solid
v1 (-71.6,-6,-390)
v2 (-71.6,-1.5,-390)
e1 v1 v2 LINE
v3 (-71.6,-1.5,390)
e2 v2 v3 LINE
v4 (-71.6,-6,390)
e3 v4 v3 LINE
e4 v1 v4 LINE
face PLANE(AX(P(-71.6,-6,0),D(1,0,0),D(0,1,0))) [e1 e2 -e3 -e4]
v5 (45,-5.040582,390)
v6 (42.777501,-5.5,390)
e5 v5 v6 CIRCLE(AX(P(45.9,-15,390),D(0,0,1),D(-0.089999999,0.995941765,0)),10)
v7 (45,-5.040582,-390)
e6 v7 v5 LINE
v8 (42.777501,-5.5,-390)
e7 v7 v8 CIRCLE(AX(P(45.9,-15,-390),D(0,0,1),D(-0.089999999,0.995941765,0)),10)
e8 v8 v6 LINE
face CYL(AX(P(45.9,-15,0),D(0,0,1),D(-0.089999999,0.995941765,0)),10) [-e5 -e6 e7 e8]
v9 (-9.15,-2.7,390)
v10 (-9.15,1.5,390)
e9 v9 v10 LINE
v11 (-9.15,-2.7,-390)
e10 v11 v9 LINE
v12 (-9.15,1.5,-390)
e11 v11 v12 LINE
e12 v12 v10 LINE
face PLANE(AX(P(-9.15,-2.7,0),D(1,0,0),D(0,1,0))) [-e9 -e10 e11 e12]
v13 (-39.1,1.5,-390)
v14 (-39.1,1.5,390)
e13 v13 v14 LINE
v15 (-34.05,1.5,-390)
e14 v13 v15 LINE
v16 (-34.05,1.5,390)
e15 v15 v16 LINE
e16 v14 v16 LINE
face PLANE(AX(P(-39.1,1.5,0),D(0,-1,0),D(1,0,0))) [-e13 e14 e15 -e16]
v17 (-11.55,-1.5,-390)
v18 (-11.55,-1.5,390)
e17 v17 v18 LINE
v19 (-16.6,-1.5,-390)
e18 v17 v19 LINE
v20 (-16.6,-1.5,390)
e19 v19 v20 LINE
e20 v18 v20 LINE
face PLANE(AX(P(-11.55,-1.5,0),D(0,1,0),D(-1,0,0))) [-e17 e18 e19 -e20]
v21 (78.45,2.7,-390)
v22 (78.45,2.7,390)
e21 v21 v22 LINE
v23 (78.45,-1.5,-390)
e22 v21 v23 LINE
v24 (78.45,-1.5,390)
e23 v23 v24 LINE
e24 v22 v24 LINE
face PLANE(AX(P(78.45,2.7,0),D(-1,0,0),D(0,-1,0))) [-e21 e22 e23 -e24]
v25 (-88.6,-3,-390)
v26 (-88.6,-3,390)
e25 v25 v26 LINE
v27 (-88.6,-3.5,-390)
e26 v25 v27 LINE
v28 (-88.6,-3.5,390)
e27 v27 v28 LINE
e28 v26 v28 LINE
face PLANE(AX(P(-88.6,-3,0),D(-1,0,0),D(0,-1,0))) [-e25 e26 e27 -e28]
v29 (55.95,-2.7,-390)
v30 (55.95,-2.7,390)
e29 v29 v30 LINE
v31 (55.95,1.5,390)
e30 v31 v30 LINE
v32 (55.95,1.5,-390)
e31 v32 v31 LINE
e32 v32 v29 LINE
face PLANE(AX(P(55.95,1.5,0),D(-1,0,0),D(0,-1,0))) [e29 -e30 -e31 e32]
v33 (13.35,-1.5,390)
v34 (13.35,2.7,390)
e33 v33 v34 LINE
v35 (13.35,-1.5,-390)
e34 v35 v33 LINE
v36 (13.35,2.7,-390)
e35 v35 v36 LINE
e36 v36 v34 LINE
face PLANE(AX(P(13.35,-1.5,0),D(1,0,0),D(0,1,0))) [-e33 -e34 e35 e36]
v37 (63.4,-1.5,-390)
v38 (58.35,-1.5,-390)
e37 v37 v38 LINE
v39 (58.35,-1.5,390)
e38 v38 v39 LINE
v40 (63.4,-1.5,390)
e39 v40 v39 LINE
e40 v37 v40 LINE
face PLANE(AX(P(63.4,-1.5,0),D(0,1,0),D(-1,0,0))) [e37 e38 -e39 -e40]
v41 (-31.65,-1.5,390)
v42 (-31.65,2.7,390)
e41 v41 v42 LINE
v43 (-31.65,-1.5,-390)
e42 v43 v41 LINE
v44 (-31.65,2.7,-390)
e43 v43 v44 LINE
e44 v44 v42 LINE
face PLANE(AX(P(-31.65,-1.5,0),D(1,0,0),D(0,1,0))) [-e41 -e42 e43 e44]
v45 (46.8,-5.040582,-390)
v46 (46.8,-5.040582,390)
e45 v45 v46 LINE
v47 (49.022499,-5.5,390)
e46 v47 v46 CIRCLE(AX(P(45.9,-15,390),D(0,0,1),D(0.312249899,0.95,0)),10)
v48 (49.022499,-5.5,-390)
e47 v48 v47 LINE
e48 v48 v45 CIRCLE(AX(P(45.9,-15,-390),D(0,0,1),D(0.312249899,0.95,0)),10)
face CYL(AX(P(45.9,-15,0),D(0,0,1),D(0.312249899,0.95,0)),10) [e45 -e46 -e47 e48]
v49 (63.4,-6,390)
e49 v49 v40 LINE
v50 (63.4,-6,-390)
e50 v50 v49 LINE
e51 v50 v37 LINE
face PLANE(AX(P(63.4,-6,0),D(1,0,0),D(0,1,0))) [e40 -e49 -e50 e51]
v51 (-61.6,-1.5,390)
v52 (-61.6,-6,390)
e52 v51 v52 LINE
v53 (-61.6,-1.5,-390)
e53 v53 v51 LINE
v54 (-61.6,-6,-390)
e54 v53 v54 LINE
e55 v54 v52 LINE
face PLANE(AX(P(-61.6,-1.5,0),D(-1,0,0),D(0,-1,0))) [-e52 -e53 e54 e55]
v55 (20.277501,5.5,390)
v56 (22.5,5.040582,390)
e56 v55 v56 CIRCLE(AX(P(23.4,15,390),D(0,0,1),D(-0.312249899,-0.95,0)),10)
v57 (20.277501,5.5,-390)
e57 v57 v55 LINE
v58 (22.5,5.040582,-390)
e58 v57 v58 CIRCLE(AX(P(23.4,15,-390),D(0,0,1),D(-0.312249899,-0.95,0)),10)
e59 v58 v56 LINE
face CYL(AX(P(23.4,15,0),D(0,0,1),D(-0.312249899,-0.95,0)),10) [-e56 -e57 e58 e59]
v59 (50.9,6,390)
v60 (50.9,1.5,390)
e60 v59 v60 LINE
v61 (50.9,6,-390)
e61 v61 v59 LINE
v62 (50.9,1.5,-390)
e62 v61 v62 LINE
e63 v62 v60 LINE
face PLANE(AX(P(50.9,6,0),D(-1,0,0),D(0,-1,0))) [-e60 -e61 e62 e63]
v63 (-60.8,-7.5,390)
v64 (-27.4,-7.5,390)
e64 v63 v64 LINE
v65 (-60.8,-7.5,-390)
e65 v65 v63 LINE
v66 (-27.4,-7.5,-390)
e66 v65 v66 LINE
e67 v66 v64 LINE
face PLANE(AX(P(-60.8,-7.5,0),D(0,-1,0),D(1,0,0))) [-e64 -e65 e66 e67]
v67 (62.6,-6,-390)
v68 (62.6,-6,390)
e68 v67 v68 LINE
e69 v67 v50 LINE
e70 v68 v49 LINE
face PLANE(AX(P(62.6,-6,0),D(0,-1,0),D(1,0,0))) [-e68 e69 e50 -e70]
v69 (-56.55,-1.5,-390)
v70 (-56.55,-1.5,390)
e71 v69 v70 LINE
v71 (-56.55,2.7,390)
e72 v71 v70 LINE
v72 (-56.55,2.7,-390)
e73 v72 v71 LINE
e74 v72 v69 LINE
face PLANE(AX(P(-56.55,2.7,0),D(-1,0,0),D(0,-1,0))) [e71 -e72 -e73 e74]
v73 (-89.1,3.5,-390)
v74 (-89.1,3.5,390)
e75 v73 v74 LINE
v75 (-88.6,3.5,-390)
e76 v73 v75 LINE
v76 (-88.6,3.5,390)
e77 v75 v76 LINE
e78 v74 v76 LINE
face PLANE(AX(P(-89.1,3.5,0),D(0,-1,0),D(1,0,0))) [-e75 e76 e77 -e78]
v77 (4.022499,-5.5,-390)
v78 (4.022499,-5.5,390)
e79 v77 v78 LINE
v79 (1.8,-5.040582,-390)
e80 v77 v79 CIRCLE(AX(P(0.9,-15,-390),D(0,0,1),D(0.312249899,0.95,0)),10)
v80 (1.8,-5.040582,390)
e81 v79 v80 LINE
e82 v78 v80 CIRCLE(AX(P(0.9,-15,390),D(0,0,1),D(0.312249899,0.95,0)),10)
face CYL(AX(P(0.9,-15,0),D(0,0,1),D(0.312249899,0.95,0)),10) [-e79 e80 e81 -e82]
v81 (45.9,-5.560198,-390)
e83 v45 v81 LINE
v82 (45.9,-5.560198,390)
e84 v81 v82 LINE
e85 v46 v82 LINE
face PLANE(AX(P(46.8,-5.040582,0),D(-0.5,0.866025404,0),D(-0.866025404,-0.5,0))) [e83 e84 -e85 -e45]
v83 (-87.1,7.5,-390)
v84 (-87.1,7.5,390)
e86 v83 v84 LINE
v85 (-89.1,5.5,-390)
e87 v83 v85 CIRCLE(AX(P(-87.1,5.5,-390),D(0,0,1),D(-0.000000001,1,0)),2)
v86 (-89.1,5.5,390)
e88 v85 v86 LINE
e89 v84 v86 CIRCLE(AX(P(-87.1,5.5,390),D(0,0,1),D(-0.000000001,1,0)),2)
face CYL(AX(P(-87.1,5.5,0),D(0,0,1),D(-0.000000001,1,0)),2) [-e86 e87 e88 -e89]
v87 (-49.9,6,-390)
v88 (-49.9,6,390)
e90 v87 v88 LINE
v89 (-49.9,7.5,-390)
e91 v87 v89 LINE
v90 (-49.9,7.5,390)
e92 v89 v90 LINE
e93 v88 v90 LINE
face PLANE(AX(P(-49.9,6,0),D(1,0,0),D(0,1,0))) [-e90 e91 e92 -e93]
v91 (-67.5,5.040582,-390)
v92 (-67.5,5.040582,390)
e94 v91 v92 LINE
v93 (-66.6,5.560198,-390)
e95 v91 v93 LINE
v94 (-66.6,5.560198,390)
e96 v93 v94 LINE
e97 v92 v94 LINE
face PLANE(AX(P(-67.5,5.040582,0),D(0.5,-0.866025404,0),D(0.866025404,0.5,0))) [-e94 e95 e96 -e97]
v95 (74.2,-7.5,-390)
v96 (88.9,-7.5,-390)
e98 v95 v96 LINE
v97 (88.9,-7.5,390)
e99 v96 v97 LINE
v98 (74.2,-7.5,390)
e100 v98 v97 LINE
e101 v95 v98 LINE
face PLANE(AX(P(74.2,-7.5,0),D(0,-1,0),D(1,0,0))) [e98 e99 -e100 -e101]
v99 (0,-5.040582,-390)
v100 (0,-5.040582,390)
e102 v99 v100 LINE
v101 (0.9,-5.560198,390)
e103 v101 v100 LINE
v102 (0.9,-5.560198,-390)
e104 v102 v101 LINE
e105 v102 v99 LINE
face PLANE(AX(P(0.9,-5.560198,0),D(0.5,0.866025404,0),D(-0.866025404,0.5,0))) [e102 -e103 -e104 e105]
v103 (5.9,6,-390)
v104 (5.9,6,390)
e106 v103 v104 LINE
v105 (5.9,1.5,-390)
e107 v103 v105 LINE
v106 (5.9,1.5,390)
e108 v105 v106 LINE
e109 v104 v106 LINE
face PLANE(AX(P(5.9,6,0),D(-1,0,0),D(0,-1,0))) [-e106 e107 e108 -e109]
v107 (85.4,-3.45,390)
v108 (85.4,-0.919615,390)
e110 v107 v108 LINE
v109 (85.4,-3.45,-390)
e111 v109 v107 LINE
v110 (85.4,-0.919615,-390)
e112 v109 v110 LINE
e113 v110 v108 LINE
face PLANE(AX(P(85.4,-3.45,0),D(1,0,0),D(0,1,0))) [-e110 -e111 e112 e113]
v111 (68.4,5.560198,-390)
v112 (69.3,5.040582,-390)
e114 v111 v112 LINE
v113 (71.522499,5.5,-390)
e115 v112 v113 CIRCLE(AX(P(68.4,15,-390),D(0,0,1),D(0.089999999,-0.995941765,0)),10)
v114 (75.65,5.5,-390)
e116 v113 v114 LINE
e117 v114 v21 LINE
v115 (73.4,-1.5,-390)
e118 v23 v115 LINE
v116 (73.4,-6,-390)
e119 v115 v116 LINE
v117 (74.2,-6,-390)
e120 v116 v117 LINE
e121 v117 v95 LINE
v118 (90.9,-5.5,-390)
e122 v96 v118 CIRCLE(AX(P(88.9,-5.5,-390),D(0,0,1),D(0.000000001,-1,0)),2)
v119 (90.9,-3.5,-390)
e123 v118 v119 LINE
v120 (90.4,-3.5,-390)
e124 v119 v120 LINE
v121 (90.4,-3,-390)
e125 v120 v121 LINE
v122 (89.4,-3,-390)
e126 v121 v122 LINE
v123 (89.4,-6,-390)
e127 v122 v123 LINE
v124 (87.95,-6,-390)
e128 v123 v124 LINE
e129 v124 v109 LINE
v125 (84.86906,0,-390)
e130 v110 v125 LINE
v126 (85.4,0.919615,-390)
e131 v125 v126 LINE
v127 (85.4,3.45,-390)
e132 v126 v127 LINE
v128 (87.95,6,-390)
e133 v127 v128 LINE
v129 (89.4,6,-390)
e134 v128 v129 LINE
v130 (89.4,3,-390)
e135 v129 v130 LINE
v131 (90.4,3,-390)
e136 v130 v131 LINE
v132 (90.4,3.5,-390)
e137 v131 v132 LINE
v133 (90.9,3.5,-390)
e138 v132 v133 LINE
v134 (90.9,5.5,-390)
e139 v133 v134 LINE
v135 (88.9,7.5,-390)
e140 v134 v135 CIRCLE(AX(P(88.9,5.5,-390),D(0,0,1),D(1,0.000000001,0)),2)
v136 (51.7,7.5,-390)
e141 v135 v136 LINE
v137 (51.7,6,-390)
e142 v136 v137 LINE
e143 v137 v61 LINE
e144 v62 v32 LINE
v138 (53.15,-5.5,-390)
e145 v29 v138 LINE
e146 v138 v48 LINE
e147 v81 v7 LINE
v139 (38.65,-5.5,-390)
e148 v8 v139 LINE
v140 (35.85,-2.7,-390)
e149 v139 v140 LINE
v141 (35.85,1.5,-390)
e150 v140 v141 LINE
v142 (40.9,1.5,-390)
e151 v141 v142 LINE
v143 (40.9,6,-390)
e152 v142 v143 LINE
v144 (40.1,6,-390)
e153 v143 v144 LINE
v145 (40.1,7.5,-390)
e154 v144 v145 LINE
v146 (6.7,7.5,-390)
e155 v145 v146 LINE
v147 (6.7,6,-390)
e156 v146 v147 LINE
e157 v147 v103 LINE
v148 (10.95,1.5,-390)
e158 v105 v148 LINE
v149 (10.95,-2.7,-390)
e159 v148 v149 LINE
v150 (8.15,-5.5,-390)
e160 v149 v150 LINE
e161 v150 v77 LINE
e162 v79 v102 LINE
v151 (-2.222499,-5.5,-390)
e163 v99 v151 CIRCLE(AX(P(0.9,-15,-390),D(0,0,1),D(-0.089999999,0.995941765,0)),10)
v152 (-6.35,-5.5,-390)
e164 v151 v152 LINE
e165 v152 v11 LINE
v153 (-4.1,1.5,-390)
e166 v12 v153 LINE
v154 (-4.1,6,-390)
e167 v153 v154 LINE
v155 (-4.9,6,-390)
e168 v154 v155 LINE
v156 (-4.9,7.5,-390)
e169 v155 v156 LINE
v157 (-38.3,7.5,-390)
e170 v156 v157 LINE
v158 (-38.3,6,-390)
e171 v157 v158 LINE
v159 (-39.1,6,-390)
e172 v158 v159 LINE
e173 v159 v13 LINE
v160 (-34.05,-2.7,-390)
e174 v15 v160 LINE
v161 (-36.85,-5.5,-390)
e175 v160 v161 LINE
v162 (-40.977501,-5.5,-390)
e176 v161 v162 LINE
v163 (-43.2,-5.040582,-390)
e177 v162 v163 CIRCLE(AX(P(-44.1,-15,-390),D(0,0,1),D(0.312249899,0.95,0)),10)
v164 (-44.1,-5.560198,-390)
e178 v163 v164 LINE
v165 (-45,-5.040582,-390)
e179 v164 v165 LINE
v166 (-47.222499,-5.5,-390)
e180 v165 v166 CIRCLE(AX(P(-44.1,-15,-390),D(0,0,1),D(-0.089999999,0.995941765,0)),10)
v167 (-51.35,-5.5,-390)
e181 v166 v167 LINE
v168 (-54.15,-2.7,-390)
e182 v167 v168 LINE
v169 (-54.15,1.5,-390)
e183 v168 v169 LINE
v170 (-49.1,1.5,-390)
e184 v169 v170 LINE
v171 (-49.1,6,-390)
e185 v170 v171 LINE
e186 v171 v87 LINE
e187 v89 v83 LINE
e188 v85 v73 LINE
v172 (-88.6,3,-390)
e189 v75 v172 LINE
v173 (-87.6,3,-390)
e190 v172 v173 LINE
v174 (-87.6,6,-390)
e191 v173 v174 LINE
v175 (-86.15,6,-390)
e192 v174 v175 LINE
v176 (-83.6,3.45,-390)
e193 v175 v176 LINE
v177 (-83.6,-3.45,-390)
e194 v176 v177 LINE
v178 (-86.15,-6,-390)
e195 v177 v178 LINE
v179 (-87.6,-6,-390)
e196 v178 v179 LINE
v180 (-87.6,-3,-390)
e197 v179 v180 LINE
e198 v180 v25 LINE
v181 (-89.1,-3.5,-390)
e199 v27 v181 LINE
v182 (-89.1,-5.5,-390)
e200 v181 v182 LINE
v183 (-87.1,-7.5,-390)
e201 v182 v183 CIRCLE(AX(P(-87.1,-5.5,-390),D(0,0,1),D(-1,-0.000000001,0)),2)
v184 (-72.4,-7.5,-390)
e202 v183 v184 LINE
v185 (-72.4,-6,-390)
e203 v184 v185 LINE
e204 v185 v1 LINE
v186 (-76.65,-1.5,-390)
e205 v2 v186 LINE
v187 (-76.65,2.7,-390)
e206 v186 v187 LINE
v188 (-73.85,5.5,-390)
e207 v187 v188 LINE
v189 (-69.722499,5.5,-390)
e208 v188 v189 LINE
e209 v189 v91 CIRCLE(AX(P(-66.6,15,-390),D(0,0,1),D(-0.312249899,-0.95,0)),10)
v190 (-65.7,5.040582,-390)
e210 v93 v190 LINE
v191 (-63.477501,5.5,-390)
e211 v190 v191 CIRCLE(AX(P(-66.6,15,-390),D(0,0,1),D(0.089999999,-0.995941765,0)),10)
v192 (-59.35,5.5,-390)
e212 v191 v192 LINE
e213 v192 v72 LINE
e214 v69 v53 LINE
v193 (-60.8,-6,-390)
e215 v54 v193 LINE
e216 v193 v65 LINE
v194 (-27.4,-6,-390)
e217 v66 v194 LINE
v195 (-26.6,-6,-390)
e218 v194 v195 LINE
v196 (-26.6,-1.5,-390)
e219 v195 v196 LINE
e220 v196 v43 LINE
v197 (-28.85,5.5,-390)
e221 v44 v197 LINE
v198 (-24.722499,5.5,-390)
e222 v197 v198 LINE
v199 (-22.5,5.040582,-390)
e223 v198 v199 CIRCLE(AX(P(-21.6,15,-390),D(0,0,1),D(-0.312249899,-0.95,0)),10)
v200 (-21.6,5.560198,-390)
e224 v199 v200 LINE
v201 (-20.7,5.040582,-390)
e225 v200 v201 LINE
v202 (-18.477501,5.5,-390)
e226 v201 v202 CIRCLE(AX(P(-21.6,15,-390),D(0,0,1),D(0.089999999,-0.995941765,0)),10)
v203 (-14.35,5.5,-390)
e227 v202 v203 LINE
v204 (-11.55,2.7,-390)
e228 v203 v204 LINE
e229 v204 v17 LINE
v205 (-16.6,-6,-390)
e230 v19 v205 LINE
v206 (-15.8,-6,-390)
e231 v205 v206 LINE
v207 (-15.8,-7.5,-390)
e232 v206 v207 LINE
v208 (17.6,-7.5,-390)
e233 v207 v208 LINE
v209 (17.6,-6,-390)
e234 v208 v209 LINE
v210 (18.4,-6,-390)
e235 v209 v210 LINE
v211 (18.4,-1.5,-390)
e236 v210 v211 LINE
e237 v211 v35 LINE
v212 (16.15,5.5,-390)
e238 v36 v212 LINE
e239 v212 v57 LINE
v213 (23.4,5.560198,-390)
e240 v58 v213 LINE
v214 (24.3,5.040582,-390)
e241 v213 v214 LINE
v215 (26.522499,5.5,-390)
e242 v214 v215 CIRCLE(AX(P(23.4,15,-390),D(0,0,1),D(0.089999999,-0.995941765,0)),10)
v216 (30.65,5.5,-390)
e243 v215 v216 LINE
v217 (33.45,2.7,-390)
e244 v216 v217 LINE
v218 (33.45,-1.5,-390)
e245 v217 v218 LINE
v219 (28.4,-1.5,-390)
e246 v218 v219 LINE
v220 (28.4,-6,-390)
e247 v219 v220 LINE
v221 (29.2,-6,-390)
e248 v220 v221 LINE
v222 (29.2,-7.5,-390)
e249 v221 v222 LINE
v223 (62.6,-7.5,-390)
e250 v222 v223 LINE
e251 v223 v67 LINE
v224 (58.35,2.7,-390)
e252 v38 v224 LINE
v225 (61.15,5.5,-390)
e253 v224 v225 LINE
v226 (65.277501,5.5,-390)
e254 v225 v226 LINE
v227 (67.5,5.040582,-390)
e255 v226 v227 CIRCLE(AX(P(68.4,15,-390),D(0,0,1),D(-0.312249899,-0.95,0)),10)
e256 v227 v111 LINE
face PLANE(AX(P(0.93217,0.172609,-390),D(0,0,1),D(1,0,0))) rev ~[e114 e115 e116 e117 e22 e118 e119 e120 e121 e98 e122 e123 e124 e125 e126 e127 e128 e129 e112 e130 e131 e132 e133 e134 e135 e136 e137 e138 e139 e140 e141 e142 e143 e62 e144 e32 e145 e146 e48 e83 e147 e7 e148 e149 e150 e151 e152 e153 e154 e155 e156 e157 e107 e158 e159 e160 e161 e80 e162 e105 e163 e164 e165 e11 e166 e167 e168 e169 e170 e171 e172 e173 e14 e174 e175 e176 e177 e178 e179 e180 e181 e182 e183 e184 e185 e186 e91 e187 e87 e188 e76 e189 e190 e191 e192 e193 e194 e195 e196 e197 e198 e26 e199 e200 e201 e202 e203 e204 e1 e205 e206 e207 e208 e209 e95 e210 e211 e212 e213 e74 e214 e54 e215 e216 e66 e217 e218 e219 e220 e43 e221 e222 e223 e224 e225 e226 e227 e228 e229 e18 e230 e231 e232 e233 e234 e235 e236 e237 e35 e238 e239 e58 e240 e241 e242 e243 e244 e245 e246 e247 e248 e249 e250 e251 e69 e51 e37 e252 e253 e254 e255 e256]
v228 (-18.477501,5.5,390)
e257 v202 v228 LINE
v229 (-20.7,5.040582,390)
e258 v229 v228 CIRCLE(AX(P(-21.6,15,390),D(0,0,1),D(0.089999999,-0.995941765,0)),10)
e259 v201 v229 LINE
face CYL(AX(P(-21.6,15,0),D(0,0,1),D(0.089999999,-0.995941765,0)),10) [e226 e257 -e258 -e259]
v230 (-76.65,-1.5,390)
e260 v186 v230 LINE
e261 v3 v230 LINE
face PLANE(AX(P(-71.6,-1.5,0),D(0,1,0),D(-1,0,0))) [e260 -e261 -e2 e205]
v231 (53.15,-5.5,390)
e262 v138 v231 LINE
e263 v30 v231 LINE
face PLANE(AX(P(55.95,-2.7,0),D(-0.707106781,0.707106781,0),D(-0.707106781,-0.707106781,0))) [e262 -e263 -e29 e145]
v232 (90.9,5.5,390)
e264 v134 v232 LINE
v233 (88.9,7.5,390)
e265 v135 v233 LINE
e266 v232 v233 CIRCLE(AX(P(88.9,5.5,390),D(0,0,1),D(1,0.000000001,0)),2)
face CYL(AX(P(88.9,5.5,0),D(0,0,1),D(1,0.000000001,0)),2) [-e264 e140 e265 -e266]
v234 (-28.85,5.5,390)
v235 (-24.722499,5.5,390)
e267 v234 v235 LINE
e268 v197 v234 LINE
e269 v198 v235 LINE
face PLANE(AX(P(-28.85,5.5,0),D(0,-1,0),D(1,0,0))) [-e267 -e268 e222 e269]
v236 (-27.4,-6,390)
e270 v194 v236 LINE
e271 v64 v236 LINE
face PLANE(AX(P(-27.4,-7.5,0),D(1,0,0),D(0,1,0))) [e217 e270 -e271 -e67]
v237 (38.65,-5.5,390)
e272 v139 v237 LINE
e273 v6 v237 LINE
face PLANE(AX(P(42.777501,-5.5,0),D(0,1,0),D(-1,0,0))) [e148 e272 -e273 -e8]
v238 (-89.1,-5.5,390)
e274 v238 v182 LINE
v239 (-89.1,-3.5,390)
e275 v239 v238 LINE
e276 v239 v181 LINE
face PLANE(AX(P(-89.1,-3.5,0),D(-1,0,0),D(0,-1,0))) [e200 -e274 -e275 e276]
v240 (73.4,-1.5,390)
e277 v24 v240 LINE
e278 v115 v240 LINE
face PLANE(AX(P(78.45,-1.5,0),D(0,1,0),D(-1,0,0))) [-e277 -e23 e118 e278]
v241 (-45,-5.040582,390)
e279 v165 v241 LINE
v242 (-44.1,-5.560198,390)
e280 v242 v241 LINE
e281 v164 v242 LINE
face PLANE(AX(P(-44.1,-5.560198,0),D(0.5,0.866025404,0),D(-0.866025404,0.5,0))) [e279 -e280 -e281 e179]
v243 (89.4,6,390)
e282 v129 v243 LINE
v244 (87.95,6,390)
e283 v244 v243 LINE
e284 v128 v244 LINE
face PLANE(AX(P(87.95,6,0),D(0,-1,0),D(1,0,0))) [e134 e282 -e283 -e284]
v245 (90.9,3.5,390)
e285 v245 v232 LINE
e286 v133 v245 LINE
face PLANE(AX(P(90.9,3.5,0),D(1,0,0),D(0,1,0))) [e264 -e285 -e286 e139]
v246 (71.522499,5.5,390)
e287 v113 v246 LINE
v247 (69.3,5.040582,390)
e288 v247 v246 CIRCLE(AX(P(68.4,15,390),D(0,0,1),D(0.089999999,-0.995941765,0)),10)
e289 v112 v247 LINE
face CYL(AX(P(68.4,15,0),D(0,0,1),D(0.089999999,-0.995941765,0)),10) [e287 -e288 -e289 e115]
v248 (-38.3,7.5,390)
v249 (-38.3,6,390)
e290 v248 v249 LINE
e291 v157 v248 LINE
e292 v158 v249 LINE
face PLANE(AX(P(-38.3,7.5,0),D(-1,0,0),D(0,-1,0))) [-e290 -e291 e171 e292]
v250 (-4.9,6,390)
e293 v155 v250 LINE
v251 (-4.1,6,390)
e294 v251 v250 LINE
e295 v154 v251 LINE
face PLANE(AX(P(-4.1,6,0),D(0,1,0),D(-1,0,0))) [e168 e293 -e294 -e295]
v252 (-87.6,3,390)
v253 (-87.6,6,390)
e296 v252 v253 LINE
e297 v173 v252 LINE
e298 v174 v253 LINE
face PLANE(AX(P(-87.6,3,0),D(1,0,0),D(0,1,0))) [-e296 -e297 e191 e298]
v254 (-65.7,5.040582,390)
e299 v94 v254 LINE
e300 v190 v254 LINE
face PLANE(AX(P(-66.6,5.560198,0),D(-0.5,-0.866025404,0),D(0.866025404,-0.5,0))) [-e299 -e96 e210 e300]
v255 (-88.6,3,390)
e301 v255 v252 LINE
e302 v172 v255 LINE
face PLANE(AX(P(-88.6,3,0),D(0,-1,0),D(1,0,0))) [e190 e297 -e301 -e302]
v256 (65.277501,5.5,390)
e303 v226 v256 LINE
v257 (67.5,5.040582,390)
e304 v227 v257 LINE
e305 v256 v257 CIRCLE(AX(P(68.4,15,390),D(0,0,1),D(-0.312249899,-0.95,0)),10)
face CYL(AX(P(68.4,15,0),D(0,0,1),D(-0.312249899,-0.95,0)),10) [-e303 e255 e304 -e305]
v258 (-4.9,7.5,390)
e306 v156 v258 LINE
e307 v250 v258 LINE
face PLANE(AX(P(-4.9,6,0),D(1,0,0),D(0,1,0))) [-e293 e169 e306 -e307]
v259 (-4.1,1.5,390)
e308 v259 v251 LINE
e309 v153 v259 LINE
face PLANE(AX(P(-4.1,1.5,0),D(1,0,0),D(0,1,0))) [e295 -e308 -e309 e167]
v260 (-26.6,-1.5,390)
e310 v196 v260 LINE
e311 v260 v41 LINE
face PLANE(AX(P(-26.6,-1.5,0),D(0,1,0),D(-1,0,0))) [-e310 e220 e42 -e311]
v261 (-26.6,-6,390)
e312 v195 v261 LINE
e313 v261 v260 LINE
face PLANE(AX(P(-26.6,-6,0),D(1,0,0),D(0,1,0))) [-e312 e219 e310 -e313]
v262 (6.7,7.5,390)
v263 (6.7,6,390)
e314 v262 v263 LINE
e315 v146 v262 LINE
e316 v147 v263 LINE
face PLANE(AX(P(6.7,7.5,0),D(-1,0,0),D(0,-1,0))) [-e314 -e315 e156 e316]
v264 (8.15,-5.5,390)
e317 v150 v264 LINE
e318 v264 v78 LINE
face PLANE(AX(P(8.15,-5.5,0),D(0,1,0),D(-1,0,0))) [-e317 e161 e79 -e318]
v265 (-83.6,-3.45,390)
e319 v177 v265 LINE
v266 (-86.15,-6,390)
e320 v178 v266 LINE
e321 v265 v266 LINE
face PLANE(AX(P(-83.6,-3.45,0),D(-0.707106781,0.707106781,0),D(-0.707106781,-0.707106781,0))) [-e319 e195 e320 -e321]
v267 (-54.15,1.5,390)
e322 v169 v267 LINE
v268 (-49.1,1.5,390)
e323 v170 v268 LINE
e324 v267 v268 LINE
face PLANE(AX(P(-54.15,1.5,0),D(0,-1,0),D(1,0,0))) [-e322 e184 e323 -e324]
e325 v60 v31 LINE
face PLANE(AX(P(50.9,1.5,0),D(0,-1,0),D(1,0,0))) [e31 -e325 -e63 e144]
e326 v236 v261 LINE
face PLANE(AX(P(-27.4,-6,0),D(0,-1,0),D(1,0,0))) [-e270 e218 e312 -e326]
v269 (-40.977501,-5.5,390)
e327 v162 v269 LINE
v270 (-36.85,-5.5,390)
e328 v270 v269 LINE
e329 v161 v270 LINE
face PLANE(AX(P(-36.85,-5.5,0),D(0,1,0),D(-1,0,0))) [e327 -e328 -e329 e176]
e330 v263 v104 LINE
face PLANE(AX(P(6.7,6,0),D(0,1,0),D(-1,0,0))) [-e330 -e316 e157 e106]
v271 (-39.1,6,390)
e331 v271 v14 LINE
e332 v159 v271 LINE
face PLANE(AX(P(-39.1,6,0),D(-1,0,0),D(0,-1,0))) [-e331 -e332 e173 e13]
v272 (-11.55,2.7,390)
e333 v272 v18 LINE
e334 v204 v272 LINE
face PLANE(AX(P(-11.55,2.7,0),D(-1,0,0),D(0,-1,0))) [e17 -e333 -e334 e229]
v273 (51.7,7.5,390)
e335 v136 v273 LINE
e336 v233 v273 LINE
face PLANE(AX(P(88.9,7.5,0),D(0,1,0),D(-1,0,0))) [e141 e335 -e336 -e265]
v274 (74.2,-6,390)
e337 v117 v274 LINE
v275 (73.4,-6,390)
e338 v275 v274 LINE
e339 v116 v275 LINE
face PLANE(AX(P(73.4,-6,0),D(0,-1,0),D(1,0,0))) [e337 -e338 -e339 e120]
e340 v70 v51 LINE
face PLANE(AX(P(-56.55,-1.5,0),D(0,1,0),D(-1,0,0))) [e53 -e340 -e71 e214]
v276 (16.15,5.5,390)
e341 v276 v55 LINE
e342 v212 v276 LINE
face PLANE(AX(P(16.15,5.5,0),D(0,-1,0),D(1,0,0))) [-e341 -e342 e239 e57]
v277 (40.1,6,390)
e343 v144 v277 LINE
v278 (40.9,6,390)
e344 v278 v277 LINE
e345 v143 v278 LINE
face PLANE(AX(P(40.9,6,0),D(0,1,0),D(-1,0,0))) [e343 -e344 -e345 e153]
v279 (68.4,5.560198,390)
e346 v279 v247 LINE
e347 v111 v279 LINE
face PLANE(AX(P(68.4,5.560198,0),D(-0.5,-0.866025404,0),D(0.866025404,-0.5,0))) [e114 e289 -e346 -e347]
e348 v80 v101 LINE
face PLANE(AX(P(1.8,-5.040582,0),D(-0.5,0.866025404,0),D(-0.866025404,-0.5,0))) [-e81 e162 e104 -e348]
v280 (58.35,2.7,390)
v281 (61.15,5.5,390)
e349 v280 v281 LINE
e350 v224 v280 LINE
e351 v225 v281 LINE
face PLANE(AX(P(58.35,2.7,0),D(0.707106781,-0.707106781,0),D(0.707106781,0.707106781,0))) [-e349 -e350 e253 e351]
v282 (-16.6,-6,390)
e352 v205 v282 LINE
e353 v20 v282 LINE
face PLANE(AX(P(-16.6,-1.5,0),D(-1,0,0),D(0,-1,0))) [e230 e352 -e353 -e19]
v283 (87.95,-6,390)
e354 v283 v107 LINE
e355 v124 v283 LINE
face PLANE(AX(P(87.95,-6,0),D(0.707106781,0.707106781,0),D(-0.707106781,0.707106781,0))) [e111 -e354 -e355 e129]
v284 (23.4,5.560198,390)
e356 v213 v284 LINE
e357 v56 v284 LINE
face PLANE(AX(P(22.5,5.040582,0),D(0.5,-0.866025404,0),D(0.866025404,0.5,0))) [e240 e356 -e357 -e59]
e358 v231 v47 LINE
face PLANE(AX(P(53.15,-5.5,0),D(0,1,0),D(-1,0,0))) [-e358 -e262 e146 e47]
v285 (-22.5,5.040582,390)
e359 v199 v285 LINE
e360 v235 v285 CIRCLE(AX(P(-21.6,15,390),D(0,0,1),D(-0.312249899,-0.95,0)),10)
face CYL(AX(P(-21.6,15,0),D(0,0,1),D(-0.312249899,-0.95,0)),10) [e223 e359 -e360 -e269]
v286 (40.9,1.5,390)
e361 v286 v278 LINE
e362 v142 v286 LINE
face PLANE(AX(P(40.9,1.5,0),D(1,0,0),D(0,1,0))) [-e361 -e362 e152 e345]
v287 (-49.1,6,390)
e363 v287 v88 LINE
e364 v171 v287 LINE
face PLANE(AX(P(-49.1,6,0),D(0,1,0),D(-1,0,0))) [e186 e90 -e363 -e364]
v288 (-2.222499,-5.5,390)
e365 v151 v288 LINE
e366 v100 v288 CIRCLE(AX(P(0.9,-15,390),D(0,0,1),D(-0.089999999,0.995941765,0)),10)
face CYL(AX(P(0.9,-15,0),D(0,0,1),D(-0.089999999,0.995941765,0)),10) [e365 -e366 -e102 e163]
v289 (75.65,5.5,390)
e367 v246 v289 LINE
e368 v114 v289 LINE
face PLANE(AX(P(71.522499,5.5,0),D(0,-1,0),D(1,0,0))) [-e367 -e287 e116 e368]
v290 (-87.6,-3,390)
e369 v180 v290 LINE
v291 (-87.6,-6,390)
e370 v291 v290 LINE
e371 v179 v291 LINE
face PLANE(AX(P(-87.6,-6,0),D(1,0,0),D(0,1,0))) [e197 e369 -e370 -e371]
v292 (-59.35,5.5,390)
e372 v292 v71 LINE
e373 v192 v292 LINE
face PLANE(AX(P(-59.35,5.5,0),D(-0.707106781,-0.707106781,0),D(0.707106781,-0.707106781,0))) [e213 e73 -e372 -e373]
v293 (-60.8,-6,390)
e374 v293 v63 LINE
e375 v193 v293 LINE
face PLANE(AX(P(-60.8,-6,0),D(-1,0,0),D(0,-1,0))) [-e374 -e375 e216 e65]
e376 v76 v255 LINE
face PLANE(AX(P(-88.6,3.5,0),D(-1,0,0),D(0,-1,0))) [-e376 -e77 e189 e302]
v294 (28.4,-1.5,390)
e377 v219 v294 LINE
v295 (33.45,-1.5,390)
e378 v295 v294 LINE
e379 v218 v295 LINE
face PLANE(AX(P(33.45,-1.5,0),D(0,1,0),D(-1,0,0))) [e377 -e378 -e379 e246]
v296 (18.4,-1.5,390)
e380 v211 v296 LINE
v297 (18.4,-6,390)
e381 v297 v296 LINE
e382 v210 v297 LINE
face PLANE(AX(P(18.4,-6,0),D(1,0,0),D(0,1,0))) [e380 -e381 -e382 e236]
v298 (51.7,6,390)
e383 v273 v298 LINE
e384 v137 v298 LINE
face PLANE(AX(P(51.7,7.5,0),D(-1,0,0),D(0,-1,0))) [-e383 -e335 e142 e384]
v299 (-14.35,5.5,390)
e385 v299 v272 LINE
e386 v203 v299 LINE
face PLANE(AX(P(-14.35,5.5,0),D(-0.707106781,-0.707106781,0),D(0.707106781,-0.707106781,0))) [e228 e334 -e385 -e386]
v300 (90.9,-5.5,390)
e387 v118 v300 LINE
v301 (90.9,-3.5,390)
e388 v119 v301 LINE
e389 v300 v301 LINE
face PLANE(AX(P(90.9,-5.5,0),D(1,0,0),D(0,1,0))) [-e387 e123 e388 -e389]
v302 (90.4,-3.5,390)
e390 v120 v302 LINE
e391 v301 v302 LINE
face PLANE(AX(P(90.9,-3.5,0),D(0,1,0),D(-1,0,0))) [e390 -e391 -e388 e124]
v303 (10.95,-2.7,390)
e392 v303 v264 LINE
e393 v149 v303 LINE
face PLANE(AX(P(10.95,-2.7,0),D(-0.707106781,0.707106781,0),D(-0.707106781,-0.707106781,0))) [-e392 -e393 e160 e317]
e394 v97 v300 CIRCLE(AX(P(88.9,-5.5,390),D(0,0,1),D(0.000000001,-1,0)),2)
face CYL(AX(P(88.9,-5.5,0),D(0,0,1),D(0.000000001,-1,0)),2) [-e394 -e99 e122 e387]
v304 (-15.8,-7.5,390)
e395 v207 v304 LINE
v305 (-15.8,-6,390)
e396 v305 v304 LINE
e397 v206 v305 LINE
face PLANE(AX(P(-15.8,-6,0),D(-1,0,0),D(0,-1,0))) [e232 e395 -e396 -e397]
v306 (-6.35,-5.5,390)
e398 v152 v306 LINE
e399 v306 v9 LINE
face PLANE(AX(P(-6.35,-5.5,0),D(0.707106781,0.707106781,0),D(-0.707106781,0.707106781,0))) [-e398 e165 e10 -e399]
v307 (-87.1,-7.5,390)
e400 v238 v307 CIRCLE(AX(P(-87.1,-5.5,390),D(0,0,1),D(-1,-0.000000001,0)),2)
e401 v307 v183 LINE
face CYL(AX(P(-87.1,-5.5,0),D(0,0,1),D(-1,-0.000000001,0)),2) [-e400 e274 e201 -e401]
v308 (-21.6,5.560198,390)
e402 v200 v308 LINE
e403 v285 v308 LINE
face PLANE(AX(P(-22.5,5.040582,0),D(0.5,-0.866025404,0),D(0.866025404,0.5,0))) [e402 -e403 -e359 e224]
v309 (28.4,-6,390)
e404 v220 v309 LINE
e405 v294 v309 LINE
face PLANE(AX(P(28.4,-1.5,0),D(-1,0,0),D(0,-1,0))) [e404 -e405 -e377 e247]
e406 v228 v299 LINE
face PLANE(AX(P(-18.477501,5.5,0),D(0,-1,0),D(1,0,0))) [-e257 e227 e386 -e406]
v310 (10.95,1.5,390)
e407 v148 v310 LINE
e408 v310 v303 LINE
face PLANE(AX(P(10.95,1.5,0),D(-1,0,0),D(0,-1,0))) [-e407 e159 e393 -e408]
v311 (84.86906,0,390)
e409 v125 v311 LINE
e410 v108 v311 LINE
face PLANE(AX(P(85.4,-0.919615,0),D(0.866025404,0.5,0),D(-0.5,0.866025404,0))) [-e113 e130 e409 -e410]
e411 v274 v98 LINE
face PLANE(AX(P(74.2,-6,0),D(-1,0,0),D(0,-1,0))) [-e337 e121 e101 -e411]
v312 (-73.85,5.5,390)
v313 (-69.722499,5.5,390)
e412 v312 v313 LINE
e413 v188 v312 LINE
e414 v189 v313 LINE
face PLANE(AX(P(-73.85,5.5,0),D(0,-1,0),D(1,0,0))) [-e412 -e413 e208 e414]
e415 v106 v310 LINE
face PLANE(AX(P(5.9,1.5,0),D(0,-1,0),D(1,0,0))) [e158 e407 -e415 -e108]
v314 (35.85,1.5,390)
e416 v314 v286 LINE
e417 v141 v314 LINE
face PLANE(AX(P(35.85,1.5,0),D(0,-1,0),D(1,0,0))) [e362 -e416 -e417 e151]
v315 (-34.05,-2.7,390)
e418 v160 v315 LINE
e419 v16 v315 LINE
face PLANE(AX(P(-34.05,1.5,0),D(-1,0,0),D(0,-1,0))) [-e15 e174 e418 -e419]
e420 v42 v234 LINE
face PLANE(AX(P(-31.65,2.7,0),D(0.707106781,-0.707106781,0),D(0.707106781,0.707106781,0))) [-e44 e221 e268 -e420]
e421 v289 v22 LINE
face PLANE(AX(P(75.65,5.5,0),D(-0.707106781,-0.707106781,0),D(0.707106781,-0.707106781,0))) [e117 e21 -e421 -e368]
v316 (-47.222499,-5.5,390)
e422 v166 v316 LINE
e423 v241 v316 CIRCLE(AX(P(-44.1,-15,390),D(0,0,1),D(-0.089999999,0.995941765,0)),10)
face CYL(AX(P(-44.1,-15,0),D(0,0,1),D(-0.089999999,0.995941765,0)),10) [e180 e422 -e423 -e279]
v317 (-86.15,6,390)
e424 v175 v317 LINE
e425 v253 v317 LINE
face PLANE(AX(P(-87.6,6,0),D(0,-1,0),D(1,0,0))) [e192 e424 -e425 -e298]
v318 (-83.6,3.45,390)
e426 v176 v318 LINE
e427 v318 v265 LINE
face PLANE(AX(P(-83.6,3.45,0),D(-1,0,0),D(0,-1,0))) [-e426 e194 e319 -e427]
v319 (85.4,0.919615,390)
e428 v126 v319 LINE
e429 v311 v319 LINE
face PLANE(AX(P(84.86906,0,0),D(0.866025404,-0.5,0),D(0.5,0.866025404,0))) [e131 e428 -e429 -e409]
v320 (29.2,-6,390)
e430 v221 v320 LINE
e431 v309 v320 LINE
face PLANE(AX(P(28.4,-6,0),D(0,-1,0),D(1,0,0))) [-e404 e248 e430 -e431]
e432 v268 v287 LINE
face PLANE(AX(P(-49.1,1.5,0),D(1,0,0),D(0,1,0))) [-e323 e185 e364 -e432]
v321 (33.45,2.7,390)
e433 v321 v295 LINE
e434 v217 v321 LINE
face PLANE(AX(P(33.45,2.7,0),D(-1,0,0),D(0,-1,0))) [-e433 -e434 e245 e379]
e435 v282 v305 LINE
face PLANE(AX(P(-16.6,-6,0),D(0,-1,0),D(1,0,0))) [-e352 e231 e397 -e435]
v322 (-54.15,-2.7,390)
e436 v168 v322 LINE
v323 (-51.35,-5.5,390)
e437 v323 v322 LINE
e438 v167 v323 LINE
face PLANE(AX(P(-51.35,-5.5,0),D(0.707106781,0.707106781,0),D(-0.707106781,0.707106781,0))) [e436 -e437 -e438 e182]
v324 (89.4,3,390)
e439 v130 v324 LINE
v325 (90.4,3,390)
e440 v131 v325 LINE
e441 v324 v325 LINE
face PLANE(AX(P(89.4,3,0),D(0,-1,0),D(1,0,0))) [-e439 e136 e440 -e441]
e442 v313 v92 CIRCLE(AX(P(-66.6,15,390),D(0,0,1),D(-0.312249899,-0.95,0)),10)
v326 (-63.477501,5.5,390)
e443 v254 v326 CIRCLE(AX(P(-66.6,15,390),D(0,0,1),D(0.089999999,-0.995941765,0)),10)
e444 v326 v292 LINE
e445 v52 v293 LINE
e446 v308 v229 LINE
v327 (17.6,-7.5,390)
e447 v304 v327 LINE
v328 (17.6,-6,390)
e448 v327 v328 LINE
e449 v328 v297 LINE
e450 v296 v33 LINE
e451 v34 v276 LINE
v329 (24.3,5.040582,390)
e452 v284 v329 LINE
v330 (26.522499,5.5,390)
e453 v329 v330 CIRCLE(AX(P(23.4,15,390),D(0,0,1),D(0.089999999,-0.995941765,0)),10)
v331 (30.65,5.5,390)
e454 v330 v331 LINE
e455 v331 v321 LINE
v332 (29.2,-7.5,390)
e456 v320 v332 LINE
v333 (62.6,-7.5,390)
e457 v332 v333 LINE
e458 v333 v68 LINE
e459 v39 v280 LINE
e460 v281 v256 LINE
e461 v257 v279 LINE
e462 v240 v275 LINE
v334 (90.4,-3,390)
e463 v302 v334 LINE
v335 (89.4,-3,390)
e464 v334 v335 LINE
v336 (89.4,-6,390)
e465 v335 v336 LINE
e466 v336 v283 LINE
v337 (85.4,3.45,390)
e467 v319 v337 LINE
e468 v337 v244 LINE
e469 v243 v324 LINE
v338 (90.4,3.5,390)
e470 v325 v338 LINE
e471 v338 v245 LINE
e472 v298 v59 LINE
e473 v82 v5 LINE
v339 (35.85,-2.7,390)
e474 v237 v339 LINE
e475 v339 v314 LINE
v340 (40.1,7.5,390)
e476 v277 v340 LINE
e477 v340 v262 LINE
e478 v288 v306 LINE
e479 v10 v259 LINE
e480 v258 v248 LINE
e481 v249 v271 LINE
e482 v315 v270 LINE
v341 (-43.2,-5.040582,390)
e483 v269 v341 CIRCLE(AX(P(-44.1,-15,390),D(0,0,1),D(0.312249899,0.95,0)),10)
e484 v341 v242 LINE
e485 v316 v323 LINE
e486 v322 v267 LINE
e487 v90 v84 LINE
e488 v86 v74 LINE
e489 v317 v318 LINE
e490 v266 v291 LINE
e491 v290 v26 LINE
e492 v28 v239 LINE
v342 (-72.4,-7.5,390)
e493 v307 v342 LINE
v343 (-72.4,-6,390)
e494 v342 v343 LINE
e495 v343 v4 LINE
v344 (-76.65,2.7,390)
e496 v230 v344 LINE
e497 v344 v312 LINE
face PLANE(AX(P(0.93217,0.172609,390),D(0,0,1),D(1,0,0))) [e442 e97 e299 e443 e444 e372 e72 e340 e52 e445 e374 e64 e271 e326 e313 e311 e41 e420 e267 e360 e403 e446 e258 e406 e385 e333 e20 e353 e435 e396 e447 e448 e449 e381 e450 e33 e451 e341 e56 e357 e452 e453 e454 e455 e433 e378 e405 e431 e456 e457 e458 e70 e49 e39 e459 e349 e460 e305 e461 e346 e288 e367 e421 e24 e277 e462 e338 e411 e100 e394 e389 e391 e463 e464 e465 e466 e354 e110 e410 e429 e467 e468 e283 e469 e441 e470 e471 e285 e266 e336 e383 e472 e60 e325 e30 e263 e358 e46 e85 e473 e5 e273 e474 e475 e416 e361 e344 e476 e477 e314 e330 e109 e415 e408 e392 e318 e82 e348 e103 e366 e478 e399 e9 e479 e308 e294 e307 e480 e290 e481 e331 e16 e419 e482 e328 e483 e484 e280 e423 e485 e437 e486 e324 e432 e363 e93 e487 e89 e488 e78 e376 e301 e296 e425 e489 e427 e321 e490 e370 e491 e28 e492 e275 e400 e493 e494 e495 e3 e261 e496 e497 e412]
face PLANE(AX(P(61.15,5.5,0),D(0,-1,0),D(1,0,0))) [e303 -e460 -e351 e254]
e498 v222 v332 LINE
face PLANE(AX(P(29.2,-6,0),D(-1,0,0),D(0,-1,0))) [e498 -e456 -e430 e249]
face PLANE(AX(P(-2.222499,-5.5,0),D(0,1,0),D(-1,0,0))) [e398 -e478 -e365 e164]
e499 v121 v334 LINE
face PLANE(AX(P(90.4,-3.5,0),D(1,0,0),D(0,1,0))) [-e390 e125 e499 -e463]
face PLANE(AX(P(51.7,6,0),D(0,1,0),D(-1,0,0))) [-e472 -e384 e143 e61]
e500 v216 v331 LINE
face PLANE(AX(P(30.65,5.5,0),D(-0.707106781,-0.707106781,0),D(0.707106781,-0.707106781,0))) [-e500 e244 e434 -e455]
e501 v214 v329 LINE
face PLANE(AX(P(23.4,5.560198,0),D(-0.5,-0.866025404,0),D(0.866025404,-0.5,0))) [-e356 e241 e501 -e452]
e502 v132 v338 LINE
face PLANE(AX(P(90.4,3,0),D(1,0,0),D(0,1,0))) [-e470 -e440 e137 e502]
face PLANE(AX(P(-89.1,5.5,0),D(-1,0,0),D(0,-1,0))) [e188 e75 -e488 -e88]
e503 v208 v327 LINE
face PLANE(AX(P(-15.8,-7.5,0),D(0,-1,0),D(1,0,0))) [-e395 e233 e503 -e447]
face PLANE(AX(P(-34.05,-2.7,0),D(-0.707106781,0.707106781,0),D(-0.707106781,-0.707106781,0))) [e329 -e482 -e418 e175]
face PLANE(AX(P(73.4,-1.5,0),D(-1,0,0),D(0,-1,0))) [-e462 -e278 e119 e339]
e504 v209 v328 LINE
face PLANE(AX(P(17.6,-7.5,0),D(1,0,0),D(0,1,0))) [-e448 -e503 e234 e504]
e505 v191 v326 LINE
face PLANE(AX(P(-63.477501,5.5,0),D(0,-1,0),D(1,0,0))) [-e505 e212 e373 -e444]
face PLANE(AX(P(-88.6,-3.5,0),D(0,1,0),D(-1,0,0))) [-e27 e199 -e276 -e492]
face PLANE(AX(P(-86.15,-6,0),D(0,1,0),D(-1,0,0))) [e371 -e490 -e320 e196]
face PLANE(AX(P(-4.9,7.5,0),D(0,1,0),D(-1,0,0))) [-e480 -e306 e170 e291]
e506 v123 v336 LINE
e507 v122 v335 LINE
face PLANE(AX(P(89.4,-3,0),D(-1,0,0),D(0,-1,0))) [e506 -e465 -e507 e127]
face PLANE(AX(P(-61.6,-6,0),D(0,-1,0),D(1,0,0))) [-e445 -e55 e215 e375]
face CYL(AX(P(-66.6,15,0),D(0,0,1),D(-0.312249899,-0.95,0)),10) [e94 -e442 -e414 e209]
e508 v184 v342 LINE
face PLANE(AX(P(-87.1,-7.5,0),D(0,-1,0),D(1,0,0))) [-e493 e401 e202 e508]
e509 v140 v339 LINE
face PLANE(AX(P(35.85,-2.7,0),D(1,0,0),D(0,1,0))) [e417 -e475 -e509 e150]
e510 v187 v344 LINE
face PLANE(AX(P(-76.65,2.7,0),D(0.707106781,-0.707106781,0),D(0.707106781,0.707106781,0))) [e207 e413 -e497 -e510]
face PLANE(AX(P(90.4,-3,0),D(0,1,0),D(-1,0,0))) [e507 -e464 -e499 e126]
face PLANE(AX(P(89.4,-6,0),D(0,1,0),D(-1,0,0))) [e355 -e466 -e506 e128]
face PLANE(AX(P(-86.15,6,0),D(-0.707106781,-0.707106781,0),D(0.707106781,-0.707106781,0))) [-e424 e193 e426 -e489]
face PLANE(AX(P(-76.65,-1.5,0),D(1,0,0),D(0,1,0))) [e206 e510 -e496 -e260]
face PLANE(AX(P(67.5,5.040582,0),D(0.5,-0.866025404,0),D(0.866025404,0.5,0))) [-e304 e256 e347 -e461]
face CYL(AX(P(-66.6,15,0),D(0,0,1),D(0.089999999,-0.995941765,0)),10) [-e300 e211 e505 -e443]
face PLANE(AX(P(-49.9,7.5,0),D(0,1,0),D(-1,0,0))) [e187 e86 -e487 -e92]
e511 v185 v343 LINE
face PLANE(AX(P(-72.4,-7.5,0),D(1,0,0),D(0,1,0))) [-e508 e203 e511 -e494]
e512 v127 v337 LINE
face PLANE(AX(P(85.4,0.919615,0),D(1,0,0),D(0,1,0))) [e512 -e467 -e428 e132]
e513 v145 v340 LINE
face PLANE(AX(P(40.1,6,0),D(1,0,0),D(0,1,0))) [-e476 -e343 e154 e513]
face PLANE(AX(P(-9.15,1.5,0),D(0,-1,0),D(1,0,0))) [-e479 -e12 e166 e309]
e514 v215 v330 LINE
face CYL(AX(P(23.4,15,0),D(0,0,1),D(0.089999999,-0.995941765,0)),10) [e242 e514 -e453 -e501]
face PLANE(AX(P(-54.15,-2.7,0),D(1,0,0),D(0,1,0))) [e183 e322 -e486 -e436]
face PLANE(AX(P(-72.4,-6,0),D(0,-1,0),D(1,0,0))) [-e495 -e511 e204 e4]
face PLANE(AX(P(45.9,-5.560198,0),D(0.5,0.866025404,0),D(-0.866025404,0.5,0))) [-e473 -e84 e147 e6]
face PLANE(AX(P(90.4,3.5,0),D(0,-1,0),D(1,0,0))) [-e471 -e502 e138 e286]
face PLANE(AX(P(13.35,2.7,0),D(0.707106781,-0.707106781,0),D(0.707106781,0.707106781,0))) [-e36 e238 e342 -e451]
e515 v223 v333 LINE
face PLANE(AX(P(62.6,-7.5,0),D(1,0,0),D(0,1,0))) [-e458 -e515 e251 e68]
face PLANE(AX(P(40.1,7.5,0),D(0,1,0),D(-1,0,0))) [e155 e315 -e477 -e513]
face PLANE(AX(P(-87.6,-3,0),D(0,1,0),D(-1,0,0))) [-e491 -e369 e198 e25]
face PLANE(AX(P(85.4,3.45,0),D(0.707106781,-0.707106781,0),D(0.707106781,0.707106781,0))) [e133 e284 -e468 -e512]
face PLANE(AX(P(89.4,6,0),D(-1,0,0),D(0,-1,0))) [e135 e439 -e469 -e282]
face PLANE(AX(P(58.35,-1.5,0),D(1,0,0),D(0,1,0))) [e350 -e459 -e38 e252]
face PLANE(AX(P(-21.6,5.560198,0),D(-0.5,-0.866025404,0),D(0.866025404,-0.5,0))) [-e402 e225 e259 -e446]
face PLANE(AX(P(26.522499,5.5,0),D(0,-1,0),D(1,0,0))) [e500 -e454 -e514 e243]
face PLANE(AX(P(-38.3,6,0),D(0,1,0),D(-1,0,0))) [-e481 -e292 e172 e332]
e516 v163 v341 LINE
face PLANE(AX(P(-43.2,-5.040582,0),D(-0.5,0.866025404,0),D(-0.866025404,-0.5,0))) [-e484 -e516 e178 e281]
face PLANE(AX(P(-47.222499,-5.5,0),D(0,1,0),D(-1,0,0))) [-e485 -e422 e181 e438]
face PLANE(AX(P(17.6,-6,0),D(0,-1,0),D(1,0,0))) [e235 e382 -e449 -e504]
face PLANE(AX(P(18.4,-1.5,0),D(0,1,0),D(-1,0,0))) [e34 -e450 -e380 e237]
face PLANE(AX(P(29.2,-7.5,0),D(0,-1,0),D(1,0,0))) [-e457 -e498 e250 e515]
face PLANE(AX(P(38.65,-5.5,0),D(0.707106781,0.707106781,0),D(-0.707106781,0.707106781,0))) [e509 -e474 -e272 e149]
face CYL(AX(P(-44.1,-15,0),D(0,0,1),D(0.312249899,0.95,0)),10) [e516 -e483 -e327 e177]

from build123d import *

# Parameters (mm, degrees)
EXTRUDE_531_DEPTH = 390


with BuildPart() as part:
    # Model → Extrude 531 (new, symmetric)
    with BuildSketch(Plane.XY):
        with BuildLine():
            Line((-87.100000001, -7.500000002), (-72.400000001, -7.500000002))
            Line((-72.400000001, -7.500000002), (-72.400000001, -6.000000002))
            Line((-72.400000001, -6.000000002), (-71.600000001, -6.000000002))
            Line((-71.600000001, -6.000000002), (-71.600000001, -1.500000002))
            Line((-71.600000001, -1.500000002), (-76.650000001, -1.500000002))
            Line((-76.650000001, -1.500000002), (-76.650000001, 2.699999998))
            Line((-76.650000001, 2.699999998), (-73.850000001, 5.499999998))
            Line((-73.850000001, 5.499999998), (-69.722499001, 5.499999998))
            ThreePointArc((-69.722499001, 5.499999998), (-68.624324752, 5.207037765), (-67.500000003, 5.040582344))
            Line((-67.500000003, 5.040582344), (-66.6, 5.560197588))
            Line((-66.6, 5.560197588), (-65.700000001, 5.040582347))
            ThreePointArc((-65.700000001, 5.040582347), (-64.575675254, 5.207037766), (-63.477501008, 5.499999998))
            Line((-63.477501008, 5.499999998), (-59.350000001, 5.499999998))
            Line((-59.350000001, 5.499999998), (-56.550000001, 2.699999998))
            Line((-56.550000001, 2.699999998), (-56.550000001, -1.500000002))
            Line((-56.550000001, -1.500000002), (-61.600000001, -1.500000002))
            Line((-61.600000001, -1.500000002), (-61.600000001, -6.000000002))
            Line((-61.600000001, -6.000000002), (-60.800000001, -6.000000002))
            Line((-60.800000001, -6.000000002), (-60.800000001, -7.500000002))
            Line((-60.800000001, -7.500000002), (-27.400000001, -7.500000002))
            Line((-27.400000001, -7.500000002), (-27.400000001, -6.000000002))
            Line((-27.400000001, -6.000000002), (-26.600000001, -6.000000002))
            Line((-26.600000001, -6.000000002), (-26.600000001, -1.500000002))
            Line((-26.600000001, -1.500000002), (-31.650000001, -1.500000002))
            Line((-31.650000001, -1.500000002), (-31.650000001, 2.699999998))
            Line((-31.650000001, 2.699999998), (-28.850000001, 5.499999998))
            Line((-28.850000001, 5.499999998), (-24.722499001, 5.499999998))
            ThreePointArc((-24.722499001, 5.499999998), (-23.624324752, 5.207037765), (-22.500000003, 5.040582344))
            Line((-22.500000003, 5.040582344), (-21.6, 5.560197588))
            Line((-21.6, 5.560197588), (-20.700000001, 5.040582347))
            ThreePointArc((-20.700000001, 5.040582347), (-19.575675254, 5.207037766), (-18.477501008, 5.499999998))
            Line((-18.477501008, 5.499999998), (-14.350000001, 5.499999998))
            Line((-14.350000001, 5.499999998), (-11.550000001, 2.699999998))
            Line((-11.550000001, 2.699999998), (-11.550000001, -1.500000002))
            Line((-11.550000001, -1.500000002), (-16.600000001, -1.500000002))
            Line((-16.600000001, -1.500000002), (-16.600000001, -6.000000002))
            Line((-16.600000001, -6.000000002), (-15.800000001, -6.000000002))
            Line((-15.800000001, -6.000000002), (-15.800000001, -7.500000002))
            Line((-15.800000001, -7.500000002), (17.599999999, -7.500000002))
            Line((17.599999999, -7.500000002), (17.599999999, -6.000000002))
            Line((17.599999999, -6.000000002), (18.399999999, -6.000000002))
            Line((18.399999999, -6.000000002), (18.399999999, -1.500000002))
            Line((18.399999999, -1.500000002), (13.349999999, -1.500000002))
            Line((13.349999999, -1.500000002), (13.349999999, 2.699999998))
            Line((13.349999999, 2.699999998), (16.149999999, 5.499999998))
            Line((16.149999999, 5.499999998), (20.277500999, 5.499999998))
            ThreePointArc((20.277500999, 5.499999998), (21.375675248, 5.207037765), (22.499999997, 5.040582344))
            Line((22.499999997, 5.040582344), (23.4, 5.560197588))
            Line((23.4, 5.560197588), (24.299999999, 5.040582347))
            ThreePointArc((24.299999999, 5.040582347), (25.424324746, 5.207037766), (26.522498992, 5.499999998))
            Line((26.522498992, 5.499999998), (30.649999999, 5.499999998))
            Line((30.649999999, 5.499999998), (33.449999999, 2.699999998))
            Line((33.449999999, 2.699999998), (33.449999999, -1.500000002))
            Line((33.449999999, -1.500000002), (28.399999999, -1.500000002))
            Line((28.399999999, -1.500000002), (28.399999999, -6.000000002))
            Line((28.399999999, -6.000000002), (29.199999999, -6.000000002))
            Line((29.199999999, -6.000000002), (29.199999999, -7.500000002))
            Line((29.199999999, -7.500000002), (62.599999999, -7.500000002))
            Line((62.599999999, -7.500000002), (62.599999999, -6.000000002))
            Line((62.599999999, -6.000000002), (63.399999999, -6.000000002))
            Line((63.399999999, -6.000000002), (63.399999999, -1.500000002))
            Line((63.399999999, -1.500000002), (58.349999999, -1.500000002))
            Line((58.349999999, -1.500000002), (58.349999999, 2.699999998))
            Line((58.349999999, 2.699999998), (61.149999999, 5.499999998))
            Line((61.149999999, 5.499999998), (65.277500999, 5.499999998))
            ThreePointArc((65.277500999, 5.499999998), (66.375675248, 5.207037765), (67.499999997, 5.040582344))
            Line((67.499999997, 5.040582344), (68.4, 5.560197588))
            Line((68.4, 5.560197588), (69.299999999, 5.040582347))
            ThreePointArc((69.299999999, 5.040582347), (70.424324746, 5.207037766), (71.522498992, 5.499999998))
            Line((71.522498992, 5.499999998), (75.649999999, 5.499999998))
            Line((75.649999999, 5.499999998), (78.449999999, 2.699999998))
            Line((78.449999999, 2.699999998), (78.449999999, -1.500000002))
            Line((78.449999999, -1.500000002), (73.399999999, -1.500000002))
            Line((73.399999999, -1.500000002), (73.399999999, -6.000000002))
            Line((73.399999999, -6.000000002), (74.199999999, -6.000000002))
            Line((74.199999999, -6.000000002), (74.199999999, -7.500000002))
            Line((74.199999999, -7.500000002), (88.899999999, -7.500000002))
            ThreePointArc((88.899999999, -7.500000002), (90.314213561, -6.914213564), (90.899999999, -5.500000002))
            Line((90.899999999, -5.500000002), (90.899999999, -3.500000002))
            Line((90.899999999, -3.500000002), (90.399999999, -3.500000002))
            Line((90.399999999, -3.500000002), (90.399999999, -3.000000002))
            Line((90.399999999, -3.000000002), (89.399999999, -3.000000002))
            Line((89.399999999, -3.000000002), (89.399999999, -6.000000002))
            Line((89.399999999, -6.000000002), (87.949999999, -6.000000002))
            Line((87.949999999, -6.000000002), (85.399999999, -3.450000002))
            Line((85.399999999, -3.450000002), (85.399999999, -0.919615242))
            Line((85.399999999, -0.919615242), (84.869059892, 0))
            Line((84.869059892, 0), (85.399999999, 0.919615242))
            Line((85.399999999, 0.919615242), (85.399999999, 3.450000002))
            Line((85.399999999, 3.450000002), (87.949999999, 6.000000002))
            Line((87.949999999, 6.000000002), (89.399999999, 6.000000002))
            Line((89.399999999, 6.000000002), (89.399999999, 3.000000002))
            Line((89.399999999, 3.000000002), (90.399999999, 3.000000002))
            Line((90.399999999, 3.000000002), (90.399999999, 3.500000002))
            Line((90.399999999, 3.500000002), (90.899999999, 3.500000002))
            Line((90.899999999, 3.500000002), (90.899999999, 5.500000002))
            ThreePointArc((90.899999999, 5.500000002), (90.314213561, 6.914213564), (88.899999999, 7.500000002))
            Line((88.899999999, 7.500000002), (51.7, 7.500000002))
            Line((51.7, 7.500000002), (51.7, 5.999999997))
            Line((51.7, 5.999999997), (50.9, 5.999999997))
            Line((50.9, 5.999999997), (50.9, 1.499999997))
            Line((50.9, 1.499999997), (55.95, 1.499999997))
            Line((55.95, 1.499999997), (55.95, -2.700000003))
            Line((55.95, -2.700000003), (53.15, -5.500000003))
            Line((53.15, -5.500000003), (49.022499, -5.500000003))
            ThreePointArc((49.022499, -5.500000003), (47.924324751, -5.20703777), (46.800000002, -5.040582349))
            Line((46.800000002, -5.040582349), (45.899999999, -5.560197593))
            Line((45.899999999, -5.560197593), (45, -5.040582352))
            ThreePointArc((45, -5.040582352), (43.875675253, -5.207037771), (42.777501007, -5.500000004))
            Line((42.777501007, -5.500000004), (38.65, -5.500000004))
            Line((38.65, -5.500000004), (35.85, -2.700000004))
            Line((35.85, -2.700000004), (35.85, 1.499999996))
            Line((35.85, 1.499999996), (40.9, 1.499999996))
            Line((40.9, 1.499999996), (40.9, 5.999999996))
            Line((40.9, 5.999999996), (40.1, 5.999999996))
            Line((40.1, 5.999999996), (40.1, 7.499999996))
            Line((40.1, 7.499999996), (6.7, 7.499999996))
            Line((6.7, 7.499999996), (6.7, 5.999999997))
            Line((6.7, 5.999999997), (5.9, 5.999999997))
            Line((5.9, 5.999999997), (5.9, 1.499999997))
            Line((5.9, 1.499999997), (10.95, 1.499999997))
            Line((10.95, 1.499999997), (10.95, -2.700000003))
            Line((10.95, -2.700000003), (8.15, -5.500000003))
            Line((8.15, -5.500000003), (4.022499, -5.500000003))
            ThreePointArc((4.022499, -5.500000003), (2.924324751, -5.20703777), (1.800000002, -5.040582349))
            Line((1.800000002, -5.040582349), (0.899999999, -5.560197593))
            Line((0.899999999, -5.560197593), (0, -5.040582352))
            ThreePointArc((0, -5.040582352), (-1.124324747, -5.207037771), (-2.222498993, -5.500000004))
            Line((-2.222498993, -5.500000004), (-6.35, -5.500000004))
            Line((-6.35, -5.500000004), (-9.15, -2.700000003))
            Line((-9.15, -2.700000003), (-9.15, 1.499999997))
            Line((-9.15, 1.499999997), (-4.1, 1.499999997))
            Line((-4.1, 1.499999997), (-4.1, 5.999999997))
            Line((-4.1, 5.999999997), (-4.9, 5.999999997))
            Line((-4.9, 5.999999997), (-4.9, 7.499999997))
            Line((-4.9, 7.499999997), (-38.3, 7.499999997))
            Line((-38.3, 7.499999997), (-38.3, 5.999999997))
            Line((-38.3, 5.999999997), (-39.1, 5.999999997))
            Line((-39.1, 5.999999997), (-39.1, 1.499999997))
            Line((-39.1, 1.499999997), (-34.05, 1.499999997))
            Line((-34.05, 1.499999997), (-34.05, -2.700000003))
            Line((-34.05, -2.700000003), (-36.85, -5.500000003))
            Line((-36.85, -5.500000003), (-40.977501, -5.500000003))
            ThreePointArc((-40.977501, -5.500000003), (-42.075675249, -5.20703777), (-43.199999998, -5.040582349))
            Line((-43.199999998, -5.040582349), (-44.100000001, -5.560197593))
            Line((-44.100000001, -5.560197593), (-45, -5.040582352))
            ThreePointArc((-45, -5.040582352), (-46.124324747, -5.207037771), (-47.222498993, -5.500000004))
            Line((-47.222498993, -5.500000004), (-51.35, -5.500000004))
            Line((-51.35, -5.500000004), (-54.15, -2.700000004))
            Line((-54.15, -2.700000004), (-54.15, 1.499999996))
            Line((-54.15, 1.499999996), (-49.1, 1.499999996))
            Line((-49.1, 1.499999996), (-49.1, 5.999999996))
            Line((-49.1, 5.999999996), (-49.9, 5.999999996))
            Line((-49.9, 5.999999996), (-49.9, 7.499999998))
            Line((-49.9, 7.499999998), (-87.100000001, 7.499999998))
            ThreePointArc((-87.100000001, 7.499999998), (-88.514213563, 6.91421356), (-89.100000001, 5.499999998))
            Line((-89.100000001, 5.499999998), (-89.100000001, 3.499999998))
            Line((-89.100000001, 3.499999998), (-88.600000001, 3.499999998))
            Line((-88.600000001, 3.499999998), (-88.600000001, 2.999999998))
            Line((-88.600000001, 2.999999998), (-87.600000001, 2.999999998))
            Line((-87.600000001, 2.999999998), (-87.600000001, 5.999999998))
            Line((-87.600000001, 5.999999998), (-86.150000001, 5.999999998))
            Line((-86.150000001, 5.999999998), (-83.600000001, 3.449999998))
            Line((-83.600000001, 3.449999998), (-83.600000001, -3.450000002))
            Line((-83.600000001, -3.450000002), (-86.150000001, -6.000000002))
            Line((-86.150000001, -6.000000002), (-87.600000001, -6.000000002))
            Line((-87.600000001, -6.000000002), (-87.600000001, -3.000000002))
            Line((-87.600000001, -3.000000002), (-88.600000001, -3.000000002))
            Line((-88.600000001, -3.000000002), (-88.600000001, -3.500000002))
            Line((-88.600000001, -3.500000002), (-89.100000001, -3.500000002))
            Line((-89.100000001, -3.500000002), (-89.100000001, -5.500000002))
            ThreePointArc((-89.100000001, -5.500000002), (-88.514213563, -6.914213564), (-87.100000001, -7.500000002))
        make_face()
    extrude(amount=EXTRUDE_531_DEPTH, both=True)


solid = part.part
